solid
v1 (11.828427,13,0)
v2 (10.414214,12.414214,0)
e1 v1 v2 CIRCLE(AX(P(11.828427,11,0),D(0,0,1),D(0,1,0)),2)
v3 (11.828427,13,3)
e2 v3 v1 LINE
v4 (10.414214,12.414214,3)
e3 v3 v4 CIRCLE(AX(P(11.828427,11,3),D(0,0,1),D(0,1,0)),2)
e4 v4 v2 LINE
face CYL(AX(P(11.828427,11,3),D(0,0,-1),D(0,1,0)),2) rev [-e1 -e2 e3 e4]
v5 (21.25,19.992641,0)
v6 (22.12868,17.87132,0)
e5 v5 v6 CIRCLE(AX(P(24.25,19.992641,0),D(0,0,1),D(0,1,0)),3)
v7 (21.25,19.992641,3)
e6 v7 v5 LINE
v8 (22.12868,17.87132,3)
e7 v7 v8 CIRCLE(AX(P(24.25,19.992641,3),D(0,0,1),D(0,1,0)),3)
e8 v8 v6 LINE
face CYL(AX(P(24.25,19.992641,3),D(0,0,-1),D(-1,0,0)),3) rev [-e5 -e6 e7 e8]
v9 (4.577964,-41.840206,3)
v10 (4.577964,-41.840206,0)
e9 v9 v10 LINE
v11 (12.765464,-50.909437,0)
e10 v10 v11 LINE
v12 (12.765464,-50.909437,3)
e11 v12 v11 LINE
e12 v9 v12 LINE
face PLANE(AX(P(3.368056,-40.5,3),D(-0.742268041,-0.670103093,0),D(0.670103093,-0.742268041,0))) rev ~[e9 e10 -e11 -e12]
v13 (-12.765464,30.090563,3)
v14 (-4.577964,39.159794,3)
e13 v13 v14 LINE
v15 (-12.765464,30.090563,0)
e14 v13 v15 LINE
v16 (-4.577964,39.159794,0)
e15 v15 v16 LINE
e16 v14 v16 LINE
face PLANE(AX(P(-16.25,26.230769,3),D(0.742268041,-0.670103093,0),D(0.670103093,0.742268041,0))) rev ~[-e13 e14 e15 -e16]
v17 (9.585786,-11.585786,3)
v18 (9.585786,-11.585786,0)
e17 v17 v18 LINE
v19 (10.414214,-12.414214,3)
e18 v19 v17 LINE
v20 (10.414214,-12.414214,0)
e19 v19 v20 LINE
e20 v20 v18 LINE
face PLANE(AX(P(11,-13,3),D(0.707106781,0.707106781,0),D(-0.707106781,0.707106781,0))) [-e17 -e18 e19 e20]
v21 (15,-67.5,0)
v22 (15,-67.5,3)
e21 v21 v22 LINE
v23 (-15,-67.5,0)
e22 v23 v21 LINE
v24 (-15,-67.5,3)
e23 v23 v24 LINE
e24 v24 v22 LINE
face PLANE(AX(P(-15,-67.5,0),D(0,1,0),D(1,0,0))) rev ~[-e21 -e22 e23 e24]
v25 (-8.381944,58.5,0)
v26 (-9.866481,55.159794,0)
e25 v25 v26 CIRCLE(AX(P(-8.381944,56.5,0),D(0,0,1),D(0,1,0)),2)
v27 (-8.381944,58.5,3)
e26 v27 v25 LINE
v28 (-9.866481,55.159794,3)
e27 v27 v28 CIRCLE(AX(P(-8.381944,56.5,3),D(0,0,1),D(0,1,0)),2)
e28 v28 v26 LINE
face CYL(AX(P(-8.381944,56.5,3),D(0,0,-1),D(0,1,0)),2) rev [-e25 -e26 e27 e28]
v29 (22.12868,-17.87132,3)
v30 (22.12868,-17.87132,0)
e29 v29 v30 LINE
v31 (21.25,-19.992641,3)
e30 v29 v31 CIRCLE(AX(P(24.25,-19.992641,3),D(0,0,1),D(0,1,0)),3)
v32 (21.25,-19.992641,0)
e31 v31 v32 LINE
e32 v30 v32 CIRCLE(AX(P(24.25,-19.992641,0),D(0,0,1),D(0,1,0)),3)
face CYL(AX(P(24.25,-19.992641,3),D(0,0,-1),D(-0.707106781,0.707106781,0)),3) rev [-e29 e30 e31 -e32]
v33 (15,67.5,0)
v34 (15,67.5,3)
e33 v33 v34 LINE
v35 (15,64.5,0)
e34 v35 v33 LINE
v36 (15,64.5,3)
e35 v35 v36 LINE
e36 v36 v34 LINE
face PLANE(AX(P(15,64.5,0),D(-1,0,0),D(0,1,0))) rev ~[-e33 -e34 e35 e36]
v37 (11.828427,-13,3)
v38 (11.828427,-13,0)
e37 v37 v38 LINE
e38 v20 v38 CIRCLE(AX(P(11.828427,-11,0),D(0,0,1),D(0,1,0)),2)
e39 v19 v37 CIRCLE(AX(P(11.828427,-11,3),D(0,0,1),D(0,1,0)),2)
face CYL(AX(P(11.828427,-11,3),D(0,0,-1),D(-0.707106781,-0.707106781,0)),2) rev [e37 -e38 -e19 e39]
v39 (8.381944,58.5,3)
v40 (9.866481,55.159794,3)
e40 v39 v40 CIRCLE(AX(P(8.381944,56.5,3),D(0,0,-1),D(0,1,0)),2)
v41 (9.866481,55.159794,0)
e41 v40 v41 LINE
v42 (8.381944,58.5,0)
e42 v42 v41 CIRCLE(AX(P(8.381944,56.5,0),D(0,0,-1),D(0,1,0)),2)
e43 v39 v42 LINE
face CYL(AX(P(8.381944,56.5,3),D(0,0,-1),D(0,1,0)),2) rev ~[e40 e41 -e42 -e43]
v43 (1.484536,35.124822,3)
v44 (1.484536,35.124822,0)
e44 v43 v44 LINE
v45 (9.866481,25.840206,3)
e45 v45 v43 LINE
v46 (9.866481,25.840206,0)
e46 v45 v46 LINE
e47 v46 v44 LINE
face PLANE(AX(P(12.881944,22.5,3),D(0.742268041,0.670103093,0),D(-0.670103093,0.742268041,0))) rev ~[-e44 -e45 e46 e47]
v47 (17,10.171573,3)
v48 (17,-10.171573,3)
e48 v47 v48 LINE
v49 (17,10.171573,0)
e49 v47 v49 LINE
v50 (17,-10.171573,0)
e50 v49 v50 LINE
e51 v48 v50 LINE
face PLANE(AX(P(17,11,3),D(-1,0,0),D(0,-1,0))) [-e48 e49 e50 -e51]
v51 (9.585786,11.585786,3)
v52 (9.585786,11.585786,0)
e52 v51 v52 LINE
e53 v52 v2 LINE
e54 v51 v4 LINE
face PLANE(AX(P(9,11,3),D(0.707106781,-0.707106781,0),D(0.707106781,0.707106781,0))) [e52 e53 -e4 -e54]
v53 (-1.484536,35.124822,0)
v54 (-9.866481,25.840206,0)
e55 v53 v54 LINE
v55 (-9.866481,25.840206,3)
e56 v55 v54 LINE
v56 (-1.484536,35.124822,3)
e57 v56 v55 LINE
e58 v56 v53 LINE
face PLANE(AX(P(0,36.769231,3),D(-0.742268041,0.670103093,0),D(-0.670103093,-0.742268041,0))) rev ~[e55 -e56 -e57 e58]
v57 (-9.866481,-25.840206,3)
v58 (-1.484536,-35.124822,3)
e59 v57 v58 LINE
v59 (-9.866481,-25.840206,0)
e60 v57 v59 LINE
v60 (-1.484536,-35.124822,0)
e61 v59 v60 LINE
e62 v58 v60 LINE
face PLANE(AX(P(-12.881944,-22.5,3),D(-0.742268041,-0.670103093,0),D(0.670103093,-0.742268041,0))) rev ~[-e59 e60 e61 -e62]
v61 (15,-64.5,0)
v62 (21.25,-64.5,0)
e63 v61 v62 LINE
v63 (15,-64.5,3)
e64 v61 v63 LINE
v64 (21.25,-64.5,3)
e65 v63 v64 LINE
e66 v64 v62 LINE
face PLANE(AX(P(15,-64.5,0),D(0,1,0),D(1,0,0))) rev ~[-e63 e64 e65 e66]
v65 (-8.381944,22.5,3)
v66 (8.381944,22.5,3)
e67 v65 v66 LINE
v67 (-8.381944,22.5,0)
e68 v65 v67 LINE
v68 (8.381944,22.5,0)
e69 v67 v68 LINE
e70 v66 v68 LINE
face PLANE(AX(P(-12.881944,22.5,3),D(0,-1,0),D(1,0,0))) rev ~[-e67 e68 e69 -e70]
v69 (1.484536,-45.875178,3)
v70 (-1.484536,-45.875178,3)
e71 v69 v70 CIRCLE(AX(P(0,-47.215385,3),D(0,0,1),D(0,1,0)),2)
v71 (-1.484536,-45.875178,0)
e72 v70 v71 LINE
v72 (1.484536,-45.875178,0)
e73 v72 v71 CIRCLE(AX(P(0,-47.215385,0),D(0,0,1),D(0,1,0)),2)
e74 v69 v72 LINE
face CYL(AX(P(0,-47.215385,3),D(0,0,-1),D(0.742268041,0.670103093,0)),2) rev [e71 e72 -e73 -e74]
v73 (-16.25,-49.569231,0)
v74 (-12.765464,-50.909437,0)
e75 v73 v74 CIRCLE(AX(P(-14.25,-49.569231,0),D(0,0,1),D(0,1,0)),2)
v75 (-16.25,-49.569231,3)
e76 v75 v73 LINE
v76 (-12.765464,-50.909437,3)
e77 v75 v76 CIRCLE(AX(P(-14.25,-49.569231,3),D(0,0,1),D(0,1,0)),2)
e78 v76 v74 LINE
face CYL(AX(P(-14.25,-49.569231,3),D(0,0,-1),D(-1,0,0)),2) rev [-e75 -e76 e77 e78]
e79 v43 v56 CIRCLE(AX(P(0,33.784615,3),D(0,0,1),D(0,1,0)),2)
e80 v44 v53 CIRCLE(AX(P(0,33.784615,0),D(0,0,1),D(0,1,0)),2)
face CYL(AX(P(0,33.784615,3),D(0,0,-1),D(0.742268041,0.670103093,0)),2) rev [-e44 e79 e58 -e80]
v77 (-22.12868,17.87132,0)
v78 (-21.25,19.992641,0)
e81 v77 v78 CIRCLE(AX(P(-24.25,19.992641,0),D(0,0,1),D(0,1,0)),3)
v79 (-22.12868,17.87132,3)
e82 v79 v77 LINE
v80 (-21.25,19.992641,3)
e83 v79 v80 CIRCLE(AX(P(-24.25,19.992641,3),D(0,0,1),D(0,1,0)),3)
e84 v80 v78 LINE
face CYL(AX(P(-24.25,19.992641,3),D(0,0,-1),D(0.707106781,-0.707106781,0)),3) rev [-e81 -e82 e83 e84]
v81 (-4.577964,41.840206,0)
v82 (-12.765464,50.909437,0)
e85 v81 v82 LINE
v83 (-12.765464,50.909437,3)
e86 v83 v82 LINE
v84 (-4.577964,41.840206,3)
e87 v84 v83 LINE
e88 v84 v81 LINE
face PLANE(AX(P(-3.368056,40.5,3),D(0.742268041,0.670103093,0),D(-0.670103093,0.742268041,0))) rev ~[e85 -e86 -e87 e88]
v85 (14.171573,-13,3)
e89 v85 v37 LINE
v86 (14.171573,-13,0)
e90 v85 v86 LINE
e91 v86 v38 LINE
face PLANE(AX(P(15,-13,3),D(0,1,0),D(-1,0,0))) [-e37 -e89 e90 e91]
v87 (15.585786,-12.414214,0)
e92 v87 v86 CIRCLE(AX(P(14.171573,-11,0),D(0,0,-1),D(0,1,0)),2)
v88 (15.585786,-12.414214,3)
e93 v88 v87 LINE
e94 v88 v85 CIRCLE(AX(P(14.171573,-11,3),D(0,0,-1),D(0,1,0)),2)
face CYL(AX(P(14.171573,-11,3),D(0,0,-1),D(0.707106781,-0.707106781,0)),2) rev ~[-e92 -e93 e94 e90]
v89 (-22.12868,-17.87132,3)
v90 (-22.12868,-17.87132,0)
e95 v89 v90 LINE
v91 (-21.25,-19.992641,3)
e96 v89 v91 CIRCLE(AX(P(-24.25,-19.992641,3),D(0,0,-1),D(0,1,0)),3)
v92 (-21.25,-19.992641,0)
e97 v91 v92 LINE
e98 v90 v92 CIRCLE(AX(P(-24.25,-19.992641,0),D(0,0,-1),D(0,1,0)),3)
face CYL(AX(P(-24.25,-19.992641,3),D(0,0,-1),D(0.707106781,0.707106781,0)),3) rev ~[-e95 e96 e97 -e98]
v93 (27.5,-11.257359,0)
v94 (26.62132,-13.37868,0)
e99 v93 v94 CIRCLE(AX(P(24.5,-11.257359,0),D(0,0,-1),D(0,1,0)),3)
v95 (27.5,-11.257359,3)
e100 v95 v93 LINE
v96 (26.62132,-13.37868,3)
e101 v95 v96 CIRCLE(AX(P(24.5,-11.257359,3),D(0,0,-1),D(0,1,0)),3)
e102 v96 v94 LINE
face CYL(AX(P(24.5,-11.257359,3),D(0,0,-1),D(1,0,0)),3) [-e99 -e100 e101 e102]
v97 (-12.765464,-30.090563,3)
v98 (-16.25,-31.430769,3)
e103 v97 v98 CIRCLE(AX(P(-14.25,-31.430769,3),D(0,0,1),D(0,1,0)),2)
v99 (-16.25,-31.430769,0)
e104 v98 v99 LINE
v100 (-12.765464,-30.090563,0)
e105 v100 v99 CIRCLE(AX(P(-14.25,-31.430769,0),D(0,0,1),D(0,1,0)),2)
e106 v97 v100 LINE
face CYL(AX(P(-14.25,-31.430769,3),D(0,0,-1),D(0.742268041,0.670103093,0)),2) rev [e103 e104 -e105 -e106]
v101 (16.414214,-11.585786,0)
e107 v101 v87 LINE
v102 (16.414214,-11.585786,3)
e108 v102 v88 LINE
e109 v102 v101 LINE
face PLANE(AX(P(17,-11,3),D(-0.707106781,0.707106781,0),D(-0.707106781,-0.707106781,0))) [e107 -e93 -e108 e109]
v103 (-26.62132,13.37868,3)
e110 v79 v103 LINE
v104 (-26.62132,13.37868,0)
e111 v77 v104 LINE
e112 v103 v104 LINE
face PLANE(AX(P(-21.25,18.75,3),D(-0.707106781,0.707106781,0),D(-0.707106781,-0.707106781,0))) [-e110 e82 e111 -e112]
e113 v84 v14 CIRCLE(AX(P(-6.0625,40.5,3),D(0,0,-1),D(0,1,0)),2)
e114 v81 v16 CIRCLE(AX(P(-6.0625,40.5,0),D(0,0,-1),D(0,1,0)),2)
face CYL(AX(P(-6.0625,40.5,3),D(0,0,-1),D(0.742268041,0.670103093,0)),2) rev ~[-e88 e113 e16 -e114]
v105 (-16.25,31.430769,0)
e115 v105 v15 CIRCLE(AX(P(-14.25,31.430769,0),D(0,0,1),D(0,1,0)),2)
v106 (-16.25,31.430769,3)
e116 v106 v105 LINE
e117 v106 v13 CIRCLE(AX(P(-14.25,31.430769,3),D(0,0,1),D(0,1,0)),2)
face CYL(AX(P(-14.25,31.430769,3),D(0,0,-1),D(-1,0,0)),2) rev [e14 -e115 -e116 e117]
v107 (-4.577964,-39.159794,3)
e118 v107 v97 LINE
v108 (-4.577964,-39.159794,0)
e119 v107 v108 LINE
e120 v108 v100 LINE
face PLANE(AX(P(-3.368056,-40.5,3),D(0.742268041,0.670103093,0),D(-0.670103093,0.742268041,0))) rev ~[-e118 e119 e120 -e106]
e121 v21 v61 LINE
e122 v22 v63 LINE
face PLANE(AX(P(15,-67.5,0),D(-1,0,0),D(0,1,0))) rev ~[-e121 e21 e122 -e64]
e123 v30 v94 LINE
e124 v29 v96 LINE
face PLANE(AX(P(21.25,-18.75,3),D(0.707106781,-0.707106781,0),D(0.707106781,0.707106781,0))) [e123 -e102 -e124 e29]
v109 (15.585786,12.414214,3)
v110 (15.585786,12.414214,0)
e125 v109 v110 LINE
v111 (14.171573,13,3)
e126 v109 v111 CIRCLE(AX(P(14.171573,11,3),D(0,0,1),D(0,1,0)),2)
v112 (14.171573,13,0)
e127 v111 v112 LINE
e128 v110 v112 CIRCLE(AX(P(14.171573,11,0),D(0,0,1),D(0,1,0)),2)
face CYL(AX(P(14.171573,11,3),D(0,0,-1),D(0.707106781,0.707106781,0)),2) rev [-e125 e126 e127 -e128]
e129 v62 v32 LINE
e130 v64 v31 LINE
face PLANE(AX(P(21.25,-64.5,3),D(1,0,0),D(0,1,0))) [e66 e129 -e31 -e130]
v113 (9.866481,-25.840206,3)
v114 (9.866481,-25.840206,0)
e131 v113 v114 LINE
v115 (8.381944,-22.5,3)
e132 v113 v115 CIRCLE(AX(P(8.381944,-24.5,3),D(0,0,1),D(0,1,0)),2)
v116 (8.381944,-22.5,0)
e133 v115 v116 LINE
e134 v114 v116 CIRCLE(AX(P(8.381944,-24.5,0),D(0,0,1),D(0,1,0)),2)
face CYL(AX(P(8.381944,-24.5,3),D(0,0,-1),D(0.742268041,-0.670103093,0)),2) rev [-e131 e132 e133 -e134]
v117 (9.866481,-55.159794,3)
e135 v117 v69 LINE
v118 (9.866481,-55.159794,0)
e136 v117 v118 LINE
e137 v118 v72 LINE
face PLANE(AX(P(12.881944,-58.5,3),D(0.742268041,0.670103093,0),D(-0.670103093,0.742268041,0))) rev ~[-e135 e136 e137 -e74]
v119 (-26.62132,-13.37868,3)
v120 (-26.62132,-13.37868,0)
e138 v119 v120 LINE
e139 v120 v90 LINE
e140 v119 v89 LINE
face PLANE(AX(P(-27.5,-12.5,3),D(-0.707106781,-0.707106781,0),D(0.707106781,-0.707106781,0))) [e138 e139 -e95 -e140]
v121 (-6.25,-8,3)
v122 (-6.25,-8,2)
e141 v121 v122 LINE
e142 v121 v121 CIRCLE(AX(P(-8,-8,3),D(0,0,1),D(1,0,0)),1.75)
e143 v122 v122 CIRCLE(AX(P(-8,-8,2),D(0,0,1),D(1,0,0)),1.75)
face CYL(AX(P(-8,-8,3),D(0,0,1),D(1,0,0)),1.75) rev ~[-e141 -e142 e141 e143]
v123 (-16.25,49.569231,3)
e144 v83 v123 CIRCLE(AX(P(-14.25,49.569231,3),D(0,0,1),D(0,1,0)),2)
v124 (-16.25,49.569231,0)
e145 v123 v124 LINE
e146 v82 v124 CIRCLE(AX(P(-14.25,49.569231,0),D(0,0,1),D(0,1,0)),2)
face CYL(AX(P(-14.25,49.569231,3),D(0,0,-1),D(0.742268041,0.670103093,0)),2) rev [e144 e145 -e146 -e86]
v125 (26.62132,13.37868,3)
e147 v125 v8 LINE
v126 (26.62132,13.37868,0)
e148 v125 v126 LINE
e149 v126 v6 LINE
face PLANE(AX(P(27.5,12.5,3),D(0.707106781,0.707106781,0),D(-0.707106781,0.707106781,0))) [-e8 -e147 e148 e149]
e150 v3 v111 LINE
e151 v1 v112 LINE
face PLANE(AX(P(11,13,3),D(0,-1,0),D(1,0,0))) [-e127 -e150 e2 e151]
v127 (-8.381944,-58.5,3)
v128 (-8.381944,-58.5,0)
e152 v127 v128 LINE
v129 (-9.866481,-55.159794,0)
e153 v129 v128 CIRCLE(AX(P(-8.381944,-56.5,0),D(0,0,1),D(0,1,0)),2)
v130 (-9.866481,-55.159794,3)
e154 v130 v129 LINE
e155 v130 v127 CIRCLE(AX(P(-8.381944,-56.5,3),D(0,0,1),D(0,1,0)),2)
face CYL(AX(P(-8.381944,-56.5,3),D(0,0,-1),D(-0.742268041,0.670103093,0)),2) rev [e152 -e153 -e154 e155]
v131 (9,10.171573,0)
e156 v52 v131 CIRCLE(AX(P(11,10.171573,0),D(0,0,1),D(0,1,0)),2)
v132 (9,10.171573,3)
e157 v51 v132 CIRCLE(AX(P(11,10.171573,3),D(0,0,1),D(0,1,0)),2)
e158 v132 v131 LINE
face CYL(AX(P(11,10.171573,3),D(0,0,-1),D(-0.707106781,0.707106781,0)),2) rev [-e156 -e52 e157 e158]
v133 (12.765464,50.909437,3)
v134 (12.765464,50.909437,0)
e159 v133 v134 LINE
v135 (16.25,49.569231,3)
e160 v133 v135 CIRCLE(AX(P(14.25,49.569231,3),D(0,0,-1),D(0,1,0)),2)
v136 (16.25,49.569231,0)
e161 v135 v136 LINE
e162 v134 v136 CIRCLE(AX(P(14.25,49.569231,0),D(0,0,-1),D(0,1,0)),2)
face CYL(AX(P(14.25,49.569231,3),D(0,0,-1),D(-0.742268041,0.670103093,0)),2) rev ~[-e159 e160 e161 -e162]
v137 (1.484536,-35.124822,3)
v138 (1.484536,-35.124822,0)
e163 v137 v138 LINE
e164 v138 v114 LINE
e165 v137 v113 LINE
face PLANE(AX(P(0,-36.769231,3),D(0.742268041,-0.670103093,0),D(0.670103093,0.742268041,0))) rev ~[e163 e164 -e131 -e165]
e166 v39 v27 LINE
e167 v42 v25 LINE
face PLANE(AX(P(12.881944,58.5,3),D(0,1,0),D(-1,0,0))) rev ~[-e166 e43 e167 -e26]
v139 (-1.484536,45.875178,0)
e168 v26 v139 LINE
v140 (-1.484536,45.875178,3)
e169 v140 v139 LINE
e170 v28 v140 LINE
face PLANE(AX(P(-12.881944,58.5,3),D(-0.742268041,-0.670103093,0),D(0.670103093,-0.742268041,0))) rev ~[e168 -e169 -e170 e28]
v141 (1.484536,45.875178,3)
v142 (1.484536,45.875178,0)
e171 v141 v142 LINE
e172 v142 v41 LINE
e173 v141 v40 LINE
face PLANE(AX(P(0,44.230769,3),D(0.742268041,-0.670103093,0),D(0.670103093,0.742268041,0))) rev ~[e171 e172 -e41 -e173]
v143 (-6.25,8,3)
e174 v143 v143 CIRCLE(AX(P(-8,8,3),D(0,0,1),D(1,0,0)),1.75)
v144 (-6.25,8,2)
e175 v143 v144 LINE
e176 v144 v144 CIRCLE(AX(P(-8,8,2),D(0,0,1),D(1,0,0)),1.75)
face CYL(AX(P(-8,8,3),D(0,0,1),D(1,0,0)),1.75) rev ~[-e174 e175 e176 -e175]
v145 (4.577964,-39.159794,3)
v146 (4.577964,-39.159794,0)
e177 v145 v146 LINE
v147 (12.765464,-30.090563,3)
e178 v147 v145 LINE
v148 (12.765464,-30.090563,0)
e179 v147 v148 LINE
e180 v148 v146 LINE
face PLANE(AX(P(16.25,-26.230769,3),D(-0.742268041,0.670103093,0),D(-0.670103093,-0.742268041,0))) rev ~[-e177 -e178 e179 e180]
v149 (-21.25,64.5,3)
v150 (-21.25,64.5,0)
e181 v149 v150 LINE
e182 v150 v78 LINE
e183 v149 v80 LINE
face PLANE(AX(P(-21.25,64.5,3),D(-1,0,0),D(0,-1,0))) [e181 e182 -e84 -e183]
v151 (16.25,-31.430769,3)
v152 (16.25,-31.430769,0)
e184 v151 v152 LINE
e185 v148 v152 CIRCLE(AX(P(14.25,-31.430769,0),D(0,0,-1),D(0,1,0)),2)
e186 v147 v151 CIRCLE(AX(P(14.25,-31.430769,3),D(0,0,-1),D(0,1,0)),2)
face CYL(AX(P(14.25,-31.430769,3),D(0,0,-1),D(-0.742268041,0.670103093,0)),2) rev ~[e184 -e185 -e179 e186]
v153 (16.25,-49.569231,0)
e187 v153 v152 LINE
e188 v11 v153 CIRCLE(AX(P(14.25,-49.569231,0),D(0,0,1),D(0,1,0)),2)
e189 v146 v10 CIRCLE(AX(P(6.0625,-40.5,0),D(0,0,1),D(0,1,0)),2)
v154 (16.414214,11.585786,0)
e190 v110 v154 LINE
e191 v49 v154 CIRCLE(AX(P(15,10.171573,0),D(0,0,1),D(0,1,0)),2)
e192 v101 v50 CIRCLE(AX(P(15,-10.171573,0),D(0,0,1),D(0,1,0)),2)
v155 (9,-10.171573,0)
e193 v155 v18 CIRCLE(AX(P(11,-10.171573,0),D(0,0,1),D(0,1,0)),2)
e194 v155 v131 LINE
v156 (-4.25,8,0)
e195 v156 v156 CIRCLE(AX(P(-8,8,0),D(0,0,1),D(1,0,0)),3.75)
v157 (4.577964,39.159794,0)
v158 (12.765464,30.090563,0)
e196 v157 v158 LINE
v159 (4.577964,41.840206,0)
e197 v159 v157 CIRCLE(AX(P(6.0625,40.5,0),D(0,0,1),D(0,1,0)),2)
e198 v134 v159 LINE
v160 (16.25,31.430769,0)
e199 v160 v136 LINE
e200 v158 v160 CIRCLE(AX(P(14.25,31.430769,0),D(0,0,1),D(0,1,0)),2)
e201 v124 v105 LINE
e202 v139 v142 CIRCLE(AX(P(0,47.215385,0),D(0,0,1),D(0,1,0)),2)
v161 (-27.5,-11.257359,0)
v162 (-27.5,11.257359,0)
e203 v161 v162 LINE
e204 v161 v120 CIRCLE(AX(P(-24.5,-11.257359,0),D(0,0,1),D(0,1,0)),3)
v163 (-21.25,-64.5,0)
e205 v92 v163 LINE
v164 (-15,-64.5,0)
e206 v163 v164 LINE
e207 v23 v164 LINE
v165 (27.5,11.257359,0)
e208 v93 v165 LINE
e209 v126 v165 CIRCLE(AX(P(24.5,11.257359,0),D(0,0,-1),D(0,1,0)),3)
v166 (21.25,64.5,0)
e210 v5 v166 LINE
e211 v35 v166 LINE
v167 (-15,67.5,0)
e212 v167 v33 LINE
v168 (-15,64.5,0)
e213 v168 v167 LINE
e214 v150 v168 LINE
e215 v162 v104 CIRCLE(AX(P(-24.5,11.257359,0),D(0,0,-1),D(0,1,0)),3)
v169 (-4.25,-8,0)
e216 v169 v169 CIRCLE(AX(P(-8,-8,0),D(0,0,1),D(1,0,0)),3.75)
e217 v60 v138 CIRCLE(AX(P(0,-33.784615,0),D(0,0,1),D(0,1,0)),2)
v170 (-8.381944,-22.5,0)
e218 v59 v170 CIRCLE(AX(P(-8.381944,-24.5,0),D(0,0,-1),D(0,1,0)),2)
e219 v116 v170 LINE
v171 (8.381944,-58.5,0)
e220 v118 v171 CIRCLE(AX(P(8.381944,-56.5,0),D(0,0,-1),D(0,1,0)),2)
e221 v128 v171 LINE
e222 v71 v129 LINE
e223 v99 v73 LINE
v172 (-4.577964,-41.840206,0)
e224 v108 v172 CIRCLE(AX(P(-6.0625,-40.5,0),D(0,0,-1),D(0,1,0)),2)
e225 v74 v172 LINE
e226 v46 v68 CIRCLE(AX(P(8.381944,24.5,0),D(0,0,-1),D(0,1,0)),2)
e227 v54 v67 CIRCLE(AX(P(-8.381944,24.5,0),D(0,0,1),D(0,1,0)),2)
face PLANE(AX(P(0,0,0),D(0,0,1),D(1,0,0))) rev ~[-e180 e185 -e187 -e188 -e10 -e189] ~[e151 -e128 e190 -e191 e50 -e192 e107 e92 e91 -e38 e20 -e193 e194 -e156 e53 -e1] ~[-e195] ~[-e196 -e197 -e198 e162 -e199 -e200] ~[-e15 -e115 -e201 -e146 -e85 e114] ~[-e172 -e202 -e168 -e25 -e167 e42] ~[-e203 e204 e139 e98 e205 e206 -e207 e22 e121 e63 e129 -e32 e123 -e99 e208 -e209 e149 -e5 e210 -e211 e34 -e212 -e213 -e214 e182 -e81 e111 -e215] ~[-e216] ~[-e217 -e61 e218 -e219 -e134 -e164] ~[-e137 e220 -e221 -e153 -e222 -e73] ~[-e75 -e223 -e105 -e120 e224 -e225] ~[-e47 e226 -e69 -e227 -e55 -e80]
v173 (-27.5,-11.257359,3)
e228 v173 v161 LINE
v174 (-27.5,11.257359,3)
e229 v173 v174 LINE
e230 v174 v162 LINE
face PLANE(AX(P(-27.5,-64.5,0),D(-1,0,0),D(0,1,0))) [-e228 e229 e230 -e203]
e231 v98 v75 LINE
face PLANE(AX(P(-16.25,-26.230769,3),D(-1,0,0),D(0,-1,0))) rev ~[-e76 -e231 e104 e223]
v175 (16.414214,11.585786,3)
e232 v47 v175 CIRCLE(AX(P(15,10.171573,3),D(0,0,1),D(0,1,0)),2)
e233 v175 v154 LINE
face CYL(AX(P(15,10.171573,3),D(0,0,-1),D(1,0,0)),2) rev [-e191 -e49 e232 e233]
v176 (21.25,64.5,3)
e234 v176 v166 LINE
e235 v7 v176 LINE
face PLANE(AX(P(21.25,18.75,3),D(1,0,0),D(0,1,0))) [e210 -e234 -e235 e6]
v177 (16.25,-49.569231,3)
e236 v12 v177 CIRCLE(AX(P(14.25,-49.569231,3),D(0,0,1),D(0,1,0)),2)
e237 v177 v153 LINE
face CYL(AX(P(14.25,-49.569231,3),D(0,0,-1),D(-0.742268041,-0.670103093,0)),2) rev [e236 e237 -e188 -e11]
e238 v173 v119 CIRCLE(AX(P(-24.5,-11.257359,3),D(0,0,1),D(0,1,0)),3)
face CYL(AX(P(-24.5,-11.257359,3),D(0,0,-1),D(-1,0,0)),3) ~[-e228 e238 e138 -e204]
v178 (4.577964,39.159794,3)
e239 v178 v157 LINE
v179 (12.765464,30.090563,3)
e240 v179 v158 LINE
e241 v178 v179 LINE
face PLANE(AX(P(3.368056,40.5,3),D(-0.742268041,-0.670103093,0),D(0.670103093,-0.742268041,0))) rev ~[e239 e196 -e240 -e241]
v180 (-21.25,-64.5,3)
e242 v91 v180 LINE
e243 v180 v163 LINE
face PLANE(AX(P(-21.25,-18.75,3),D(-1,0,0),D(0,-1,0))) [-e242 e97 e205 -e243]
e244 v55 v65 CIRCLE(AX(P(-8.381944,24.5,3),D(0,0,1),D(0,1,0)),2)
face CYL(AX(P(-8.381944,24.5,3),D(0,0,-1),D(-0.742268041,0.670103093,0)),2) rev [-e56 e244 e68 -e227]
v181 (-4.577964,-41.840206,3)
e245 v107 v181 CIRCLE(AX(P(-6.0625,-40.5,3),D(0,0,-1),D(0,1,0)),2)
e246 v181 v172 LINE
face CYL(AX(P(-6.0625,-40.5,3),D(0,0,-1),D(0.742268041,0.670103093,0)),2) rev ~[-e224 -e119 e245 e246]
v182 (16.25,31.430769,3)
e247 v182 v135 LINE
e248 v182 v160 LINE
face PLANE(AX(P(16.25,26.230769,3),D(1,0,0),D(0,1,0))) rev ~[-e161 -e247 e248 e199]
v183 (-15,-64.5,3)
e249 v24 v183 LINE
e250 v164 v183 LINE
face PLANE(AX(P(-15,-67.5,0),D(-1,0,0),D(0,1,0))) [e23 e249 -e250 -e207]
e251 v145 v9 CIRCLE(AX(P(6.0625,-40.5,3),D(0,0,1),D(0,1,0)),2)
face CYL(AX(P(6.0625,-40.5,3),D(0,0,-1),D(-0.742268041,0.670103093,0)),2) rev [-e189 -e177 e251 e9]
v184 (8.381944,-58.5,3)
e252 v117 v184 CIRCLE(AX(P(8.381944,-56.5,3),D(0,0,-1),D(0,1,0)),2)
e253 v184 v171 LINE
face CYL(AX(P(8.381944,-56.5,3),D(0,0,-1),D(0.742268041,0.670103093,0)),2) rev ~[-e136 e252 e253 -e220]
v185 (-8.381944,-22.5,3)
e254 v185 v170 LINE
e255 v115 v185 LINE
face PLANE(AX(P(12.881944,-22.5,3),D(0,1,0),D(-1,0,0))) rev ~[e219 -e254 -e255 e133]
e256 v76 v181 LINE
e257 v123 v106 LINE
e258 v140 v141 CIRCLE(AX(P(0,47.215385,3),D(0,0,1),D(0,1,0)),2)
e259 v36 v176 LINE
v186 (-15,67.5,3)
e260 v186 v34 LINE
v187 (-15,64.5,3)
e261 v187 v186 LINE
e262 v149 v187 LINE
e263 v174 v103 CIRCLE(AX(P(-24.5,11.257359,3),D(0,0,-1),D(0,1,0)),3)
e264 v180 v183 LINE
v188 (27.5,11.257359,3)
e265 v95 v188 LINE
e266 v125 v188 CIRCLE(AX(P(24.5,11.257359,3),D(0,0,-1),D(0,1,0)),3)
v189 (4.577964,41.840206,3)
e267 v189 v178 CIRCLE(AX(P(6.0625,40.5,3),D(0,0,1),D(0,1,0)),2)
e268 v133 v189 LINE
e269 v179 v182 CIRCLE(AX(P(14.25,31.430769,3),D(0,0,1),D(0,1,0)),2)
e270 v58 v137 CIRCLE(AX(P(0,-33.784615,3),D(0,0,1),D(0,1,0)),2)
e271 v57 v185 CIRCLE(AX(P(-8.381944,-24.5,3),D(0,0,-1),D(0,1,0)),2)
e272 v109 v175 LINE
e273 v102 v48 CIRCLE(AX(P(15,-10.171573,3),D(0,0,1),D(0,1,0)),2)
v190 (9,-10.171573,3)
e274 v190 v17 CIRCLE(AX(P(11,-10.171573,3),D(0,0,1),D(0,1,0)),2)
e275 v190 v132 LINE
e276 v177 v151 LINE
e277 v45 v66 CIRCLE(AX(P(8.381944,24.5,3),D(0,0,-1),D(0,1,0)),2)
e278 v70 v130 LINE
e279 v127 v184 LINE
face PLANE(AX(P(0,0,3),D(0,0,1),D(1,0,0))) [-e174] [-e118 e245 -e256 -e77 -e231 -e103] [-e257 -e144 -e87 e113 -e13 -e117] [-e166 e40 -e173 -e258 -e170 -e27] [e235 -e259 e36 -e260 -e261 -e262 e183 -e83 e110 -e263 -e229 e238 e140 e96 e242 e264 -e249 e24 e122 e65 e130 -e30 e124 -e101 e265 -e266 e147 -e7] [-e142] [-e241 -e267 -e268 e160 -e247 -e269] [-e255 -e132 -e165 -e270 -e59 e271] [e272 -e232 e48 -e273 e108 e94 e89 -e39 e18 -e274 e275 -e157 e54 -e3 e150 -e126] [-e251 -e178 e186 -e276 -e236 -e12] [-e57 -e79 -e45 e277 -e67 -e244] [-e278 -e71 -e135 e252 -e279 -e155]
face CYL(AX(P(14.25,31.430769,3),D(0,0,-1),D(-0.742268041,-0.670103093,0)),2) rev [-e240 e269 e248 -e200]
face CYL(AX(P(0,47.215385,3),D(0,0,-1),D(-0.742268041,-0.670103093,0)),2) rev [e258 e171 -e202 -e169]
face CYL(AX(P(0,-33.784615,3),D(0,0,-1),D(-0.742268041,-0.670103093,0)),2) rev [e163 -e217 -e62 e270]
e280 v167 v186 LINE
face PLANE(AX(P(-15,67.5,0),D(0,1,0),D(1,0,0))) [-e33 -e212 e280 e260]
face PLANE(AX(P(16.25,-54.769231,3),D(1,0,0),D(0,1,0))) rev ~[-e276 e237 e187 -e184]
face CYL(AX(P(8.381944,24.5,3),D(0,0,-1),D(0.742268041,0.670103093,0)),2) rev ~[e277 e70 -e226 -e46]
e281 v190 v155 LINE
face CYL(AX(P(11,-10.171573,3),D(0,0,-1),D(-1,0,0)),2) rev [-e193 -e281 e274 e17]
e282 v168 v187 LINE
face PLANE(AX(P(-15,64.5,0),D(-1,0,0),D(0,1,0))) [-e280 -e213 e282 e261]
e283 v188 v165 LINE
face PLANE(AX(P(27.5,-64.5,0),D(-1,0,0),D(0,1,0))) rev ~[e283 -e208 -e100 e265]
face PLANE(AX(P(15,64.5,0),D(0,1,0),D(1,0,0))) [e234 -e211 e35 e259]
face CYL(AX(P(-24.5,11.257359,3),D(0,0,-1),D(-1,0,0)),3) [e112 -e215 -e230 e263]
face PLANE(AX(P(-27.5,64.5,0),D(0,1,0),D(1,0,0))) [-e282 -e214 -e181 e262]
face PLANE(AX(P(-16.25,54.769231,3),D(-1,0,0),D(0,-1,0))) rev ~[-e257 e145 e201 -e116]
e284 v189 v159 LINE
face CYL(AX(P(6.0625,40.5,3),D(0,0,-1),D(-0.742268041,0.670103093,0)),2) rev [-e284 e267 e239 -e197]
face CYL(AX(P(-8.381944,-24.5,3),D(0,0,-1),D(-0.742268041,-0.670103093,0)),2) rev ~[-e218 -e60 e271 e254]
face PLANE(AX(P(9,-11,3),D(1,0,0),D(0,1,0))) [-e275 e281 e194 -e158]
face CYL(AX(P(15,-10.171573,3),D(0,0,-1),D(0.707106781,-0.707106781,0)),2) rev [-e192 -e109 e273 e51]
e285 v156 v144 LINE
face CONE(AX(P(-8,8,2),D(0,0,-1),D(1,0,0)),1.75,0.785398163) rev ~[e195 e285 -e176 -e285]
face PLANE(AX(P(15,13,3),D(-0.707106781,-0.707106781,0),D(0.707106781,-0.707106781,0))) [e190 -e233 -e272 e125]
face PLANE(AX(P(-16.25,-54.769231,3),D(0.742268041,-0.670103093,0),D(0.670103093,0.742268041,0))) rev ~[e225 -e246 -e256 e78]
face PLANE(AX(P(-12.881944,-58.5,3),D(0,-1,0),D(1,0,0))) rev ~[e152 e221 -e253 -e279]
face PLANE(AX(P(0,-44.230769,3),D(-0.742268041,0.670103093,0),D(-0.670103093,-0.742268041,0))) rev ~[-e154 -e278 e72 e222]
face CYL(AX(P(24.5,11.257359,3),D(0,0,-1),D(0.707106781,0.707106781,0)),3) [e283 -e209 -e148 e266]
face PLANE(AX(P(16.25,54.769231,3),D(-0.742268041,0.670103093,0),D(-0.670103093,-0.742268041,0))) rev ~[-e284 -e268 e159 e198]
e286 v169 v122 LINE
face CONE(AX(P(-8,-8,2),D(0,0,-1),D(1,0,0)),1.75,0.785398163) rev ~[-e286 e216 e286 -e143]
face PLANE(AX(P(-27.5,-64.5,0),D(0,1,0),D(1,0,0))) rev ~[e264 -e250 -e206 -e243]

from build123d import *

# Parameters (mm, degrees)
SKETCH_1_W          = 55
SKETCH_1_H          = 129
SKETCH_1_W_2        = 30
SKETCH_1_H_2        = 6
EXTRUDE_1_DEPTH     = 3
SKETCH_2_R          = 1.75
CUT_EXTRUDE_1_DEPTH = 10
CUT_EXTRUDE_2_DEPTH = 10
FILLET_1_R          = 3
CHAMFER_1_SIZE      = 2
CUT_EXTRUDE_3_DEPTH = 10
FILLET_2_R          = 2


with BuildPart() as part:
    # Эскиз1 → Бобышка-Вытянуть1 (new body)
    with BuildSketch(Plane.XY):
        Rectangle(SKETCH_1_W, SKETCH_1_H)
        with Locations((0, 64.5)):
            Rectangle(SKETCH_1_W_2, SKETCH_1_H_2)
        with Locations((0, -64.5)):
            Rectangle(SKETCH_1_W_2, SKETCH_1_H_2)
    extrude(amount=EXTRUDE_1_DEPTH)

    # Эскиз2 → Вырез-Вытянуть1 (cut)
    with BuildSketch(Plane.XY.offset(3)):
        with Locations((-8, 8)):
            Circle(SKETCH_2_R)
        with Locations((-8, -8)):
            Circle(SKETCH_2_R)
    extrude(amount=-CUT_EXTRUDE_1_DEPTH, mode=Mode.SUBTRACT)

    # Эскиз3 → Вырез-Вытянуть2 (cut)
    with BuildSketch(Plane.XY.offset(3)):
        Polygon((-21.25, 64.5), (-21.25, 18.75), (-27.5, 12.5), (-35.562933311, 12.5), (-37.53189801, 71.38735117), align=None)
        Polygon((35.562933311, 12.5), (27.5, 12.5), (21.25, 18.75), (21.25, 64.5), (37.53189801, 71.38735117), align=None)
        Polygon((21.25, -64.5), (21.25, -18.75), (27.5, -12.5), (35.562933311, -12.5), (37.53189801, -71.38735117), align=None)
        Polygon((-35.562933311, -12.5), (-27.5, -12.5), (-21.25, -18.75), (-21.25, -64.5), (-37.53189801, -71.38735117), align=None)
    extrude(amount=-CUT_EXTRUDE_2_DEPTH, mode=Mode.SUBTRACT)

    # Скругление1
    fillet_1_edges = [part.edges().sort_by_distance(p)[0] for p in [
        (-21.25, 18.75, 1.5),
        (-27.5, 12.5, 1.5),
        (-27.5, -12.5, 1.5),
        (-21.25, -18.75, 1.5),
        (21.25, -18.75, 1.5),
        (27.5, -12.5, 1.5),
        (27.5, 12.5, 1.5),
        (21.25, 18.75, 1.5),
    ]]
    fillet(fillet_1_edges, radius=FILLET_1_R)

    # Фаска1
    chamfer_1_edges = [part.edges().sort_by_distance(p)[0] for p in [
        (-9.75, 8, 0),
        (-9.75, -8, 0),
    ]]
    chamfer(chamfer_1_edges, length=CHAMFER_1_SIZE)

    # Эскиз4 → Вырез-Вытянуть3 (cut)
    with BuildSketch(Plane.XY.offset(3)):
        Polygon((12.881944444, 22.5), (0, 36.769230769), (-12.881944444, 22.5), align=None)
        Polygon((-3.368055556, 40.5), (-16.25, 54.769230769), (-16.25, 26.230769231), align=None)
        Polygon((12.881944444, 58.5), (-12.881944444, 58.5), (0, 44.230769231), align=None)
        Polygon((16.25, 54.769230769), (3.368055556, 40.5), (16.25, 26.230769231), align=None)
        Polygon((15, -13), (11, -13), (9, -11), (9, 11), (11, 13), (15, 13), (17, 11), (17, -11), align=None)
        Polygon((-12.881944444, -22.5), (0, -36.769230769), (12.881944444, -22.5), align=None)
        Polygon((16.25, -26.230769231), (3.368055556, -40.5), (16.25, -54.769230769), align=None)
        Polygon((12.881944444, -58.5), (0, -44.230769231), (-12.881944444, -58.5), align=None)
        Polygon((-3.368055556, -40.5), (-16.25, -26.230769231), (-16.25, -54.769230769), align=None)
    extrude(amount=-CUT_EXTRUDE_3_DEPTH, mode=Mode.SUBTRACT)

    # Скругление2
    fillet_2_edges = [part.edges().sort_by_distance(p)[0] for p in [
        (16.25, -54.769230769, 1.5),
        (3.368055556, -40.5, 1.5),
        (16.25, -26.230769231, 1.5),
        (-12.881944444, -22.5, 1.5),
        (12.881944444, -22.5, 1.5),
        (0, -36.769230769, 1.5),
        (-16.25, -54.769230769, 1.5),
        (-16.25, -26.230769231, 1.5),
        (-3.368055556, -40.5, 1.5),
        (-12.881944444, -58.5, 1.5),
        (0, -44.230769231, 1.5),
        (12.881944444, -58.5, 1.5),
        (0, 44.230769231, 1.5),
        (-12.881944444, 58.5, 1.5),
        (12.881944444, 58.5, 1.5),
        (-16.25, 26.230769231, 1.5),
        (-16.25, 54.769230769, 1.5),
        (-3.368055556, 40.5, 1.5),
        (3.368055556, 40.5, 1.5),
        (16.25, 54.769230769, 1.5),
        (16.25, 26.230769231, 1.5),
        (15, -13, 1.5),
        (11, -13, 1.5),
        (9, -11, 1.5),
        (9, 11, 1.5),
        (11, 13, 1.5),
        (15, 13, 1.5),
        (17, 11, 1.5),
        (17, -11, 1.5),
        (-12.881944444, 22.5, 1.5),
        (0, 36.769230769, 1.5),
        (12.881944444, 22.5, 1.5),
    ]]
    fillet(fillet_2_edges, radius=FILLET_2_R)


solid = part.part
